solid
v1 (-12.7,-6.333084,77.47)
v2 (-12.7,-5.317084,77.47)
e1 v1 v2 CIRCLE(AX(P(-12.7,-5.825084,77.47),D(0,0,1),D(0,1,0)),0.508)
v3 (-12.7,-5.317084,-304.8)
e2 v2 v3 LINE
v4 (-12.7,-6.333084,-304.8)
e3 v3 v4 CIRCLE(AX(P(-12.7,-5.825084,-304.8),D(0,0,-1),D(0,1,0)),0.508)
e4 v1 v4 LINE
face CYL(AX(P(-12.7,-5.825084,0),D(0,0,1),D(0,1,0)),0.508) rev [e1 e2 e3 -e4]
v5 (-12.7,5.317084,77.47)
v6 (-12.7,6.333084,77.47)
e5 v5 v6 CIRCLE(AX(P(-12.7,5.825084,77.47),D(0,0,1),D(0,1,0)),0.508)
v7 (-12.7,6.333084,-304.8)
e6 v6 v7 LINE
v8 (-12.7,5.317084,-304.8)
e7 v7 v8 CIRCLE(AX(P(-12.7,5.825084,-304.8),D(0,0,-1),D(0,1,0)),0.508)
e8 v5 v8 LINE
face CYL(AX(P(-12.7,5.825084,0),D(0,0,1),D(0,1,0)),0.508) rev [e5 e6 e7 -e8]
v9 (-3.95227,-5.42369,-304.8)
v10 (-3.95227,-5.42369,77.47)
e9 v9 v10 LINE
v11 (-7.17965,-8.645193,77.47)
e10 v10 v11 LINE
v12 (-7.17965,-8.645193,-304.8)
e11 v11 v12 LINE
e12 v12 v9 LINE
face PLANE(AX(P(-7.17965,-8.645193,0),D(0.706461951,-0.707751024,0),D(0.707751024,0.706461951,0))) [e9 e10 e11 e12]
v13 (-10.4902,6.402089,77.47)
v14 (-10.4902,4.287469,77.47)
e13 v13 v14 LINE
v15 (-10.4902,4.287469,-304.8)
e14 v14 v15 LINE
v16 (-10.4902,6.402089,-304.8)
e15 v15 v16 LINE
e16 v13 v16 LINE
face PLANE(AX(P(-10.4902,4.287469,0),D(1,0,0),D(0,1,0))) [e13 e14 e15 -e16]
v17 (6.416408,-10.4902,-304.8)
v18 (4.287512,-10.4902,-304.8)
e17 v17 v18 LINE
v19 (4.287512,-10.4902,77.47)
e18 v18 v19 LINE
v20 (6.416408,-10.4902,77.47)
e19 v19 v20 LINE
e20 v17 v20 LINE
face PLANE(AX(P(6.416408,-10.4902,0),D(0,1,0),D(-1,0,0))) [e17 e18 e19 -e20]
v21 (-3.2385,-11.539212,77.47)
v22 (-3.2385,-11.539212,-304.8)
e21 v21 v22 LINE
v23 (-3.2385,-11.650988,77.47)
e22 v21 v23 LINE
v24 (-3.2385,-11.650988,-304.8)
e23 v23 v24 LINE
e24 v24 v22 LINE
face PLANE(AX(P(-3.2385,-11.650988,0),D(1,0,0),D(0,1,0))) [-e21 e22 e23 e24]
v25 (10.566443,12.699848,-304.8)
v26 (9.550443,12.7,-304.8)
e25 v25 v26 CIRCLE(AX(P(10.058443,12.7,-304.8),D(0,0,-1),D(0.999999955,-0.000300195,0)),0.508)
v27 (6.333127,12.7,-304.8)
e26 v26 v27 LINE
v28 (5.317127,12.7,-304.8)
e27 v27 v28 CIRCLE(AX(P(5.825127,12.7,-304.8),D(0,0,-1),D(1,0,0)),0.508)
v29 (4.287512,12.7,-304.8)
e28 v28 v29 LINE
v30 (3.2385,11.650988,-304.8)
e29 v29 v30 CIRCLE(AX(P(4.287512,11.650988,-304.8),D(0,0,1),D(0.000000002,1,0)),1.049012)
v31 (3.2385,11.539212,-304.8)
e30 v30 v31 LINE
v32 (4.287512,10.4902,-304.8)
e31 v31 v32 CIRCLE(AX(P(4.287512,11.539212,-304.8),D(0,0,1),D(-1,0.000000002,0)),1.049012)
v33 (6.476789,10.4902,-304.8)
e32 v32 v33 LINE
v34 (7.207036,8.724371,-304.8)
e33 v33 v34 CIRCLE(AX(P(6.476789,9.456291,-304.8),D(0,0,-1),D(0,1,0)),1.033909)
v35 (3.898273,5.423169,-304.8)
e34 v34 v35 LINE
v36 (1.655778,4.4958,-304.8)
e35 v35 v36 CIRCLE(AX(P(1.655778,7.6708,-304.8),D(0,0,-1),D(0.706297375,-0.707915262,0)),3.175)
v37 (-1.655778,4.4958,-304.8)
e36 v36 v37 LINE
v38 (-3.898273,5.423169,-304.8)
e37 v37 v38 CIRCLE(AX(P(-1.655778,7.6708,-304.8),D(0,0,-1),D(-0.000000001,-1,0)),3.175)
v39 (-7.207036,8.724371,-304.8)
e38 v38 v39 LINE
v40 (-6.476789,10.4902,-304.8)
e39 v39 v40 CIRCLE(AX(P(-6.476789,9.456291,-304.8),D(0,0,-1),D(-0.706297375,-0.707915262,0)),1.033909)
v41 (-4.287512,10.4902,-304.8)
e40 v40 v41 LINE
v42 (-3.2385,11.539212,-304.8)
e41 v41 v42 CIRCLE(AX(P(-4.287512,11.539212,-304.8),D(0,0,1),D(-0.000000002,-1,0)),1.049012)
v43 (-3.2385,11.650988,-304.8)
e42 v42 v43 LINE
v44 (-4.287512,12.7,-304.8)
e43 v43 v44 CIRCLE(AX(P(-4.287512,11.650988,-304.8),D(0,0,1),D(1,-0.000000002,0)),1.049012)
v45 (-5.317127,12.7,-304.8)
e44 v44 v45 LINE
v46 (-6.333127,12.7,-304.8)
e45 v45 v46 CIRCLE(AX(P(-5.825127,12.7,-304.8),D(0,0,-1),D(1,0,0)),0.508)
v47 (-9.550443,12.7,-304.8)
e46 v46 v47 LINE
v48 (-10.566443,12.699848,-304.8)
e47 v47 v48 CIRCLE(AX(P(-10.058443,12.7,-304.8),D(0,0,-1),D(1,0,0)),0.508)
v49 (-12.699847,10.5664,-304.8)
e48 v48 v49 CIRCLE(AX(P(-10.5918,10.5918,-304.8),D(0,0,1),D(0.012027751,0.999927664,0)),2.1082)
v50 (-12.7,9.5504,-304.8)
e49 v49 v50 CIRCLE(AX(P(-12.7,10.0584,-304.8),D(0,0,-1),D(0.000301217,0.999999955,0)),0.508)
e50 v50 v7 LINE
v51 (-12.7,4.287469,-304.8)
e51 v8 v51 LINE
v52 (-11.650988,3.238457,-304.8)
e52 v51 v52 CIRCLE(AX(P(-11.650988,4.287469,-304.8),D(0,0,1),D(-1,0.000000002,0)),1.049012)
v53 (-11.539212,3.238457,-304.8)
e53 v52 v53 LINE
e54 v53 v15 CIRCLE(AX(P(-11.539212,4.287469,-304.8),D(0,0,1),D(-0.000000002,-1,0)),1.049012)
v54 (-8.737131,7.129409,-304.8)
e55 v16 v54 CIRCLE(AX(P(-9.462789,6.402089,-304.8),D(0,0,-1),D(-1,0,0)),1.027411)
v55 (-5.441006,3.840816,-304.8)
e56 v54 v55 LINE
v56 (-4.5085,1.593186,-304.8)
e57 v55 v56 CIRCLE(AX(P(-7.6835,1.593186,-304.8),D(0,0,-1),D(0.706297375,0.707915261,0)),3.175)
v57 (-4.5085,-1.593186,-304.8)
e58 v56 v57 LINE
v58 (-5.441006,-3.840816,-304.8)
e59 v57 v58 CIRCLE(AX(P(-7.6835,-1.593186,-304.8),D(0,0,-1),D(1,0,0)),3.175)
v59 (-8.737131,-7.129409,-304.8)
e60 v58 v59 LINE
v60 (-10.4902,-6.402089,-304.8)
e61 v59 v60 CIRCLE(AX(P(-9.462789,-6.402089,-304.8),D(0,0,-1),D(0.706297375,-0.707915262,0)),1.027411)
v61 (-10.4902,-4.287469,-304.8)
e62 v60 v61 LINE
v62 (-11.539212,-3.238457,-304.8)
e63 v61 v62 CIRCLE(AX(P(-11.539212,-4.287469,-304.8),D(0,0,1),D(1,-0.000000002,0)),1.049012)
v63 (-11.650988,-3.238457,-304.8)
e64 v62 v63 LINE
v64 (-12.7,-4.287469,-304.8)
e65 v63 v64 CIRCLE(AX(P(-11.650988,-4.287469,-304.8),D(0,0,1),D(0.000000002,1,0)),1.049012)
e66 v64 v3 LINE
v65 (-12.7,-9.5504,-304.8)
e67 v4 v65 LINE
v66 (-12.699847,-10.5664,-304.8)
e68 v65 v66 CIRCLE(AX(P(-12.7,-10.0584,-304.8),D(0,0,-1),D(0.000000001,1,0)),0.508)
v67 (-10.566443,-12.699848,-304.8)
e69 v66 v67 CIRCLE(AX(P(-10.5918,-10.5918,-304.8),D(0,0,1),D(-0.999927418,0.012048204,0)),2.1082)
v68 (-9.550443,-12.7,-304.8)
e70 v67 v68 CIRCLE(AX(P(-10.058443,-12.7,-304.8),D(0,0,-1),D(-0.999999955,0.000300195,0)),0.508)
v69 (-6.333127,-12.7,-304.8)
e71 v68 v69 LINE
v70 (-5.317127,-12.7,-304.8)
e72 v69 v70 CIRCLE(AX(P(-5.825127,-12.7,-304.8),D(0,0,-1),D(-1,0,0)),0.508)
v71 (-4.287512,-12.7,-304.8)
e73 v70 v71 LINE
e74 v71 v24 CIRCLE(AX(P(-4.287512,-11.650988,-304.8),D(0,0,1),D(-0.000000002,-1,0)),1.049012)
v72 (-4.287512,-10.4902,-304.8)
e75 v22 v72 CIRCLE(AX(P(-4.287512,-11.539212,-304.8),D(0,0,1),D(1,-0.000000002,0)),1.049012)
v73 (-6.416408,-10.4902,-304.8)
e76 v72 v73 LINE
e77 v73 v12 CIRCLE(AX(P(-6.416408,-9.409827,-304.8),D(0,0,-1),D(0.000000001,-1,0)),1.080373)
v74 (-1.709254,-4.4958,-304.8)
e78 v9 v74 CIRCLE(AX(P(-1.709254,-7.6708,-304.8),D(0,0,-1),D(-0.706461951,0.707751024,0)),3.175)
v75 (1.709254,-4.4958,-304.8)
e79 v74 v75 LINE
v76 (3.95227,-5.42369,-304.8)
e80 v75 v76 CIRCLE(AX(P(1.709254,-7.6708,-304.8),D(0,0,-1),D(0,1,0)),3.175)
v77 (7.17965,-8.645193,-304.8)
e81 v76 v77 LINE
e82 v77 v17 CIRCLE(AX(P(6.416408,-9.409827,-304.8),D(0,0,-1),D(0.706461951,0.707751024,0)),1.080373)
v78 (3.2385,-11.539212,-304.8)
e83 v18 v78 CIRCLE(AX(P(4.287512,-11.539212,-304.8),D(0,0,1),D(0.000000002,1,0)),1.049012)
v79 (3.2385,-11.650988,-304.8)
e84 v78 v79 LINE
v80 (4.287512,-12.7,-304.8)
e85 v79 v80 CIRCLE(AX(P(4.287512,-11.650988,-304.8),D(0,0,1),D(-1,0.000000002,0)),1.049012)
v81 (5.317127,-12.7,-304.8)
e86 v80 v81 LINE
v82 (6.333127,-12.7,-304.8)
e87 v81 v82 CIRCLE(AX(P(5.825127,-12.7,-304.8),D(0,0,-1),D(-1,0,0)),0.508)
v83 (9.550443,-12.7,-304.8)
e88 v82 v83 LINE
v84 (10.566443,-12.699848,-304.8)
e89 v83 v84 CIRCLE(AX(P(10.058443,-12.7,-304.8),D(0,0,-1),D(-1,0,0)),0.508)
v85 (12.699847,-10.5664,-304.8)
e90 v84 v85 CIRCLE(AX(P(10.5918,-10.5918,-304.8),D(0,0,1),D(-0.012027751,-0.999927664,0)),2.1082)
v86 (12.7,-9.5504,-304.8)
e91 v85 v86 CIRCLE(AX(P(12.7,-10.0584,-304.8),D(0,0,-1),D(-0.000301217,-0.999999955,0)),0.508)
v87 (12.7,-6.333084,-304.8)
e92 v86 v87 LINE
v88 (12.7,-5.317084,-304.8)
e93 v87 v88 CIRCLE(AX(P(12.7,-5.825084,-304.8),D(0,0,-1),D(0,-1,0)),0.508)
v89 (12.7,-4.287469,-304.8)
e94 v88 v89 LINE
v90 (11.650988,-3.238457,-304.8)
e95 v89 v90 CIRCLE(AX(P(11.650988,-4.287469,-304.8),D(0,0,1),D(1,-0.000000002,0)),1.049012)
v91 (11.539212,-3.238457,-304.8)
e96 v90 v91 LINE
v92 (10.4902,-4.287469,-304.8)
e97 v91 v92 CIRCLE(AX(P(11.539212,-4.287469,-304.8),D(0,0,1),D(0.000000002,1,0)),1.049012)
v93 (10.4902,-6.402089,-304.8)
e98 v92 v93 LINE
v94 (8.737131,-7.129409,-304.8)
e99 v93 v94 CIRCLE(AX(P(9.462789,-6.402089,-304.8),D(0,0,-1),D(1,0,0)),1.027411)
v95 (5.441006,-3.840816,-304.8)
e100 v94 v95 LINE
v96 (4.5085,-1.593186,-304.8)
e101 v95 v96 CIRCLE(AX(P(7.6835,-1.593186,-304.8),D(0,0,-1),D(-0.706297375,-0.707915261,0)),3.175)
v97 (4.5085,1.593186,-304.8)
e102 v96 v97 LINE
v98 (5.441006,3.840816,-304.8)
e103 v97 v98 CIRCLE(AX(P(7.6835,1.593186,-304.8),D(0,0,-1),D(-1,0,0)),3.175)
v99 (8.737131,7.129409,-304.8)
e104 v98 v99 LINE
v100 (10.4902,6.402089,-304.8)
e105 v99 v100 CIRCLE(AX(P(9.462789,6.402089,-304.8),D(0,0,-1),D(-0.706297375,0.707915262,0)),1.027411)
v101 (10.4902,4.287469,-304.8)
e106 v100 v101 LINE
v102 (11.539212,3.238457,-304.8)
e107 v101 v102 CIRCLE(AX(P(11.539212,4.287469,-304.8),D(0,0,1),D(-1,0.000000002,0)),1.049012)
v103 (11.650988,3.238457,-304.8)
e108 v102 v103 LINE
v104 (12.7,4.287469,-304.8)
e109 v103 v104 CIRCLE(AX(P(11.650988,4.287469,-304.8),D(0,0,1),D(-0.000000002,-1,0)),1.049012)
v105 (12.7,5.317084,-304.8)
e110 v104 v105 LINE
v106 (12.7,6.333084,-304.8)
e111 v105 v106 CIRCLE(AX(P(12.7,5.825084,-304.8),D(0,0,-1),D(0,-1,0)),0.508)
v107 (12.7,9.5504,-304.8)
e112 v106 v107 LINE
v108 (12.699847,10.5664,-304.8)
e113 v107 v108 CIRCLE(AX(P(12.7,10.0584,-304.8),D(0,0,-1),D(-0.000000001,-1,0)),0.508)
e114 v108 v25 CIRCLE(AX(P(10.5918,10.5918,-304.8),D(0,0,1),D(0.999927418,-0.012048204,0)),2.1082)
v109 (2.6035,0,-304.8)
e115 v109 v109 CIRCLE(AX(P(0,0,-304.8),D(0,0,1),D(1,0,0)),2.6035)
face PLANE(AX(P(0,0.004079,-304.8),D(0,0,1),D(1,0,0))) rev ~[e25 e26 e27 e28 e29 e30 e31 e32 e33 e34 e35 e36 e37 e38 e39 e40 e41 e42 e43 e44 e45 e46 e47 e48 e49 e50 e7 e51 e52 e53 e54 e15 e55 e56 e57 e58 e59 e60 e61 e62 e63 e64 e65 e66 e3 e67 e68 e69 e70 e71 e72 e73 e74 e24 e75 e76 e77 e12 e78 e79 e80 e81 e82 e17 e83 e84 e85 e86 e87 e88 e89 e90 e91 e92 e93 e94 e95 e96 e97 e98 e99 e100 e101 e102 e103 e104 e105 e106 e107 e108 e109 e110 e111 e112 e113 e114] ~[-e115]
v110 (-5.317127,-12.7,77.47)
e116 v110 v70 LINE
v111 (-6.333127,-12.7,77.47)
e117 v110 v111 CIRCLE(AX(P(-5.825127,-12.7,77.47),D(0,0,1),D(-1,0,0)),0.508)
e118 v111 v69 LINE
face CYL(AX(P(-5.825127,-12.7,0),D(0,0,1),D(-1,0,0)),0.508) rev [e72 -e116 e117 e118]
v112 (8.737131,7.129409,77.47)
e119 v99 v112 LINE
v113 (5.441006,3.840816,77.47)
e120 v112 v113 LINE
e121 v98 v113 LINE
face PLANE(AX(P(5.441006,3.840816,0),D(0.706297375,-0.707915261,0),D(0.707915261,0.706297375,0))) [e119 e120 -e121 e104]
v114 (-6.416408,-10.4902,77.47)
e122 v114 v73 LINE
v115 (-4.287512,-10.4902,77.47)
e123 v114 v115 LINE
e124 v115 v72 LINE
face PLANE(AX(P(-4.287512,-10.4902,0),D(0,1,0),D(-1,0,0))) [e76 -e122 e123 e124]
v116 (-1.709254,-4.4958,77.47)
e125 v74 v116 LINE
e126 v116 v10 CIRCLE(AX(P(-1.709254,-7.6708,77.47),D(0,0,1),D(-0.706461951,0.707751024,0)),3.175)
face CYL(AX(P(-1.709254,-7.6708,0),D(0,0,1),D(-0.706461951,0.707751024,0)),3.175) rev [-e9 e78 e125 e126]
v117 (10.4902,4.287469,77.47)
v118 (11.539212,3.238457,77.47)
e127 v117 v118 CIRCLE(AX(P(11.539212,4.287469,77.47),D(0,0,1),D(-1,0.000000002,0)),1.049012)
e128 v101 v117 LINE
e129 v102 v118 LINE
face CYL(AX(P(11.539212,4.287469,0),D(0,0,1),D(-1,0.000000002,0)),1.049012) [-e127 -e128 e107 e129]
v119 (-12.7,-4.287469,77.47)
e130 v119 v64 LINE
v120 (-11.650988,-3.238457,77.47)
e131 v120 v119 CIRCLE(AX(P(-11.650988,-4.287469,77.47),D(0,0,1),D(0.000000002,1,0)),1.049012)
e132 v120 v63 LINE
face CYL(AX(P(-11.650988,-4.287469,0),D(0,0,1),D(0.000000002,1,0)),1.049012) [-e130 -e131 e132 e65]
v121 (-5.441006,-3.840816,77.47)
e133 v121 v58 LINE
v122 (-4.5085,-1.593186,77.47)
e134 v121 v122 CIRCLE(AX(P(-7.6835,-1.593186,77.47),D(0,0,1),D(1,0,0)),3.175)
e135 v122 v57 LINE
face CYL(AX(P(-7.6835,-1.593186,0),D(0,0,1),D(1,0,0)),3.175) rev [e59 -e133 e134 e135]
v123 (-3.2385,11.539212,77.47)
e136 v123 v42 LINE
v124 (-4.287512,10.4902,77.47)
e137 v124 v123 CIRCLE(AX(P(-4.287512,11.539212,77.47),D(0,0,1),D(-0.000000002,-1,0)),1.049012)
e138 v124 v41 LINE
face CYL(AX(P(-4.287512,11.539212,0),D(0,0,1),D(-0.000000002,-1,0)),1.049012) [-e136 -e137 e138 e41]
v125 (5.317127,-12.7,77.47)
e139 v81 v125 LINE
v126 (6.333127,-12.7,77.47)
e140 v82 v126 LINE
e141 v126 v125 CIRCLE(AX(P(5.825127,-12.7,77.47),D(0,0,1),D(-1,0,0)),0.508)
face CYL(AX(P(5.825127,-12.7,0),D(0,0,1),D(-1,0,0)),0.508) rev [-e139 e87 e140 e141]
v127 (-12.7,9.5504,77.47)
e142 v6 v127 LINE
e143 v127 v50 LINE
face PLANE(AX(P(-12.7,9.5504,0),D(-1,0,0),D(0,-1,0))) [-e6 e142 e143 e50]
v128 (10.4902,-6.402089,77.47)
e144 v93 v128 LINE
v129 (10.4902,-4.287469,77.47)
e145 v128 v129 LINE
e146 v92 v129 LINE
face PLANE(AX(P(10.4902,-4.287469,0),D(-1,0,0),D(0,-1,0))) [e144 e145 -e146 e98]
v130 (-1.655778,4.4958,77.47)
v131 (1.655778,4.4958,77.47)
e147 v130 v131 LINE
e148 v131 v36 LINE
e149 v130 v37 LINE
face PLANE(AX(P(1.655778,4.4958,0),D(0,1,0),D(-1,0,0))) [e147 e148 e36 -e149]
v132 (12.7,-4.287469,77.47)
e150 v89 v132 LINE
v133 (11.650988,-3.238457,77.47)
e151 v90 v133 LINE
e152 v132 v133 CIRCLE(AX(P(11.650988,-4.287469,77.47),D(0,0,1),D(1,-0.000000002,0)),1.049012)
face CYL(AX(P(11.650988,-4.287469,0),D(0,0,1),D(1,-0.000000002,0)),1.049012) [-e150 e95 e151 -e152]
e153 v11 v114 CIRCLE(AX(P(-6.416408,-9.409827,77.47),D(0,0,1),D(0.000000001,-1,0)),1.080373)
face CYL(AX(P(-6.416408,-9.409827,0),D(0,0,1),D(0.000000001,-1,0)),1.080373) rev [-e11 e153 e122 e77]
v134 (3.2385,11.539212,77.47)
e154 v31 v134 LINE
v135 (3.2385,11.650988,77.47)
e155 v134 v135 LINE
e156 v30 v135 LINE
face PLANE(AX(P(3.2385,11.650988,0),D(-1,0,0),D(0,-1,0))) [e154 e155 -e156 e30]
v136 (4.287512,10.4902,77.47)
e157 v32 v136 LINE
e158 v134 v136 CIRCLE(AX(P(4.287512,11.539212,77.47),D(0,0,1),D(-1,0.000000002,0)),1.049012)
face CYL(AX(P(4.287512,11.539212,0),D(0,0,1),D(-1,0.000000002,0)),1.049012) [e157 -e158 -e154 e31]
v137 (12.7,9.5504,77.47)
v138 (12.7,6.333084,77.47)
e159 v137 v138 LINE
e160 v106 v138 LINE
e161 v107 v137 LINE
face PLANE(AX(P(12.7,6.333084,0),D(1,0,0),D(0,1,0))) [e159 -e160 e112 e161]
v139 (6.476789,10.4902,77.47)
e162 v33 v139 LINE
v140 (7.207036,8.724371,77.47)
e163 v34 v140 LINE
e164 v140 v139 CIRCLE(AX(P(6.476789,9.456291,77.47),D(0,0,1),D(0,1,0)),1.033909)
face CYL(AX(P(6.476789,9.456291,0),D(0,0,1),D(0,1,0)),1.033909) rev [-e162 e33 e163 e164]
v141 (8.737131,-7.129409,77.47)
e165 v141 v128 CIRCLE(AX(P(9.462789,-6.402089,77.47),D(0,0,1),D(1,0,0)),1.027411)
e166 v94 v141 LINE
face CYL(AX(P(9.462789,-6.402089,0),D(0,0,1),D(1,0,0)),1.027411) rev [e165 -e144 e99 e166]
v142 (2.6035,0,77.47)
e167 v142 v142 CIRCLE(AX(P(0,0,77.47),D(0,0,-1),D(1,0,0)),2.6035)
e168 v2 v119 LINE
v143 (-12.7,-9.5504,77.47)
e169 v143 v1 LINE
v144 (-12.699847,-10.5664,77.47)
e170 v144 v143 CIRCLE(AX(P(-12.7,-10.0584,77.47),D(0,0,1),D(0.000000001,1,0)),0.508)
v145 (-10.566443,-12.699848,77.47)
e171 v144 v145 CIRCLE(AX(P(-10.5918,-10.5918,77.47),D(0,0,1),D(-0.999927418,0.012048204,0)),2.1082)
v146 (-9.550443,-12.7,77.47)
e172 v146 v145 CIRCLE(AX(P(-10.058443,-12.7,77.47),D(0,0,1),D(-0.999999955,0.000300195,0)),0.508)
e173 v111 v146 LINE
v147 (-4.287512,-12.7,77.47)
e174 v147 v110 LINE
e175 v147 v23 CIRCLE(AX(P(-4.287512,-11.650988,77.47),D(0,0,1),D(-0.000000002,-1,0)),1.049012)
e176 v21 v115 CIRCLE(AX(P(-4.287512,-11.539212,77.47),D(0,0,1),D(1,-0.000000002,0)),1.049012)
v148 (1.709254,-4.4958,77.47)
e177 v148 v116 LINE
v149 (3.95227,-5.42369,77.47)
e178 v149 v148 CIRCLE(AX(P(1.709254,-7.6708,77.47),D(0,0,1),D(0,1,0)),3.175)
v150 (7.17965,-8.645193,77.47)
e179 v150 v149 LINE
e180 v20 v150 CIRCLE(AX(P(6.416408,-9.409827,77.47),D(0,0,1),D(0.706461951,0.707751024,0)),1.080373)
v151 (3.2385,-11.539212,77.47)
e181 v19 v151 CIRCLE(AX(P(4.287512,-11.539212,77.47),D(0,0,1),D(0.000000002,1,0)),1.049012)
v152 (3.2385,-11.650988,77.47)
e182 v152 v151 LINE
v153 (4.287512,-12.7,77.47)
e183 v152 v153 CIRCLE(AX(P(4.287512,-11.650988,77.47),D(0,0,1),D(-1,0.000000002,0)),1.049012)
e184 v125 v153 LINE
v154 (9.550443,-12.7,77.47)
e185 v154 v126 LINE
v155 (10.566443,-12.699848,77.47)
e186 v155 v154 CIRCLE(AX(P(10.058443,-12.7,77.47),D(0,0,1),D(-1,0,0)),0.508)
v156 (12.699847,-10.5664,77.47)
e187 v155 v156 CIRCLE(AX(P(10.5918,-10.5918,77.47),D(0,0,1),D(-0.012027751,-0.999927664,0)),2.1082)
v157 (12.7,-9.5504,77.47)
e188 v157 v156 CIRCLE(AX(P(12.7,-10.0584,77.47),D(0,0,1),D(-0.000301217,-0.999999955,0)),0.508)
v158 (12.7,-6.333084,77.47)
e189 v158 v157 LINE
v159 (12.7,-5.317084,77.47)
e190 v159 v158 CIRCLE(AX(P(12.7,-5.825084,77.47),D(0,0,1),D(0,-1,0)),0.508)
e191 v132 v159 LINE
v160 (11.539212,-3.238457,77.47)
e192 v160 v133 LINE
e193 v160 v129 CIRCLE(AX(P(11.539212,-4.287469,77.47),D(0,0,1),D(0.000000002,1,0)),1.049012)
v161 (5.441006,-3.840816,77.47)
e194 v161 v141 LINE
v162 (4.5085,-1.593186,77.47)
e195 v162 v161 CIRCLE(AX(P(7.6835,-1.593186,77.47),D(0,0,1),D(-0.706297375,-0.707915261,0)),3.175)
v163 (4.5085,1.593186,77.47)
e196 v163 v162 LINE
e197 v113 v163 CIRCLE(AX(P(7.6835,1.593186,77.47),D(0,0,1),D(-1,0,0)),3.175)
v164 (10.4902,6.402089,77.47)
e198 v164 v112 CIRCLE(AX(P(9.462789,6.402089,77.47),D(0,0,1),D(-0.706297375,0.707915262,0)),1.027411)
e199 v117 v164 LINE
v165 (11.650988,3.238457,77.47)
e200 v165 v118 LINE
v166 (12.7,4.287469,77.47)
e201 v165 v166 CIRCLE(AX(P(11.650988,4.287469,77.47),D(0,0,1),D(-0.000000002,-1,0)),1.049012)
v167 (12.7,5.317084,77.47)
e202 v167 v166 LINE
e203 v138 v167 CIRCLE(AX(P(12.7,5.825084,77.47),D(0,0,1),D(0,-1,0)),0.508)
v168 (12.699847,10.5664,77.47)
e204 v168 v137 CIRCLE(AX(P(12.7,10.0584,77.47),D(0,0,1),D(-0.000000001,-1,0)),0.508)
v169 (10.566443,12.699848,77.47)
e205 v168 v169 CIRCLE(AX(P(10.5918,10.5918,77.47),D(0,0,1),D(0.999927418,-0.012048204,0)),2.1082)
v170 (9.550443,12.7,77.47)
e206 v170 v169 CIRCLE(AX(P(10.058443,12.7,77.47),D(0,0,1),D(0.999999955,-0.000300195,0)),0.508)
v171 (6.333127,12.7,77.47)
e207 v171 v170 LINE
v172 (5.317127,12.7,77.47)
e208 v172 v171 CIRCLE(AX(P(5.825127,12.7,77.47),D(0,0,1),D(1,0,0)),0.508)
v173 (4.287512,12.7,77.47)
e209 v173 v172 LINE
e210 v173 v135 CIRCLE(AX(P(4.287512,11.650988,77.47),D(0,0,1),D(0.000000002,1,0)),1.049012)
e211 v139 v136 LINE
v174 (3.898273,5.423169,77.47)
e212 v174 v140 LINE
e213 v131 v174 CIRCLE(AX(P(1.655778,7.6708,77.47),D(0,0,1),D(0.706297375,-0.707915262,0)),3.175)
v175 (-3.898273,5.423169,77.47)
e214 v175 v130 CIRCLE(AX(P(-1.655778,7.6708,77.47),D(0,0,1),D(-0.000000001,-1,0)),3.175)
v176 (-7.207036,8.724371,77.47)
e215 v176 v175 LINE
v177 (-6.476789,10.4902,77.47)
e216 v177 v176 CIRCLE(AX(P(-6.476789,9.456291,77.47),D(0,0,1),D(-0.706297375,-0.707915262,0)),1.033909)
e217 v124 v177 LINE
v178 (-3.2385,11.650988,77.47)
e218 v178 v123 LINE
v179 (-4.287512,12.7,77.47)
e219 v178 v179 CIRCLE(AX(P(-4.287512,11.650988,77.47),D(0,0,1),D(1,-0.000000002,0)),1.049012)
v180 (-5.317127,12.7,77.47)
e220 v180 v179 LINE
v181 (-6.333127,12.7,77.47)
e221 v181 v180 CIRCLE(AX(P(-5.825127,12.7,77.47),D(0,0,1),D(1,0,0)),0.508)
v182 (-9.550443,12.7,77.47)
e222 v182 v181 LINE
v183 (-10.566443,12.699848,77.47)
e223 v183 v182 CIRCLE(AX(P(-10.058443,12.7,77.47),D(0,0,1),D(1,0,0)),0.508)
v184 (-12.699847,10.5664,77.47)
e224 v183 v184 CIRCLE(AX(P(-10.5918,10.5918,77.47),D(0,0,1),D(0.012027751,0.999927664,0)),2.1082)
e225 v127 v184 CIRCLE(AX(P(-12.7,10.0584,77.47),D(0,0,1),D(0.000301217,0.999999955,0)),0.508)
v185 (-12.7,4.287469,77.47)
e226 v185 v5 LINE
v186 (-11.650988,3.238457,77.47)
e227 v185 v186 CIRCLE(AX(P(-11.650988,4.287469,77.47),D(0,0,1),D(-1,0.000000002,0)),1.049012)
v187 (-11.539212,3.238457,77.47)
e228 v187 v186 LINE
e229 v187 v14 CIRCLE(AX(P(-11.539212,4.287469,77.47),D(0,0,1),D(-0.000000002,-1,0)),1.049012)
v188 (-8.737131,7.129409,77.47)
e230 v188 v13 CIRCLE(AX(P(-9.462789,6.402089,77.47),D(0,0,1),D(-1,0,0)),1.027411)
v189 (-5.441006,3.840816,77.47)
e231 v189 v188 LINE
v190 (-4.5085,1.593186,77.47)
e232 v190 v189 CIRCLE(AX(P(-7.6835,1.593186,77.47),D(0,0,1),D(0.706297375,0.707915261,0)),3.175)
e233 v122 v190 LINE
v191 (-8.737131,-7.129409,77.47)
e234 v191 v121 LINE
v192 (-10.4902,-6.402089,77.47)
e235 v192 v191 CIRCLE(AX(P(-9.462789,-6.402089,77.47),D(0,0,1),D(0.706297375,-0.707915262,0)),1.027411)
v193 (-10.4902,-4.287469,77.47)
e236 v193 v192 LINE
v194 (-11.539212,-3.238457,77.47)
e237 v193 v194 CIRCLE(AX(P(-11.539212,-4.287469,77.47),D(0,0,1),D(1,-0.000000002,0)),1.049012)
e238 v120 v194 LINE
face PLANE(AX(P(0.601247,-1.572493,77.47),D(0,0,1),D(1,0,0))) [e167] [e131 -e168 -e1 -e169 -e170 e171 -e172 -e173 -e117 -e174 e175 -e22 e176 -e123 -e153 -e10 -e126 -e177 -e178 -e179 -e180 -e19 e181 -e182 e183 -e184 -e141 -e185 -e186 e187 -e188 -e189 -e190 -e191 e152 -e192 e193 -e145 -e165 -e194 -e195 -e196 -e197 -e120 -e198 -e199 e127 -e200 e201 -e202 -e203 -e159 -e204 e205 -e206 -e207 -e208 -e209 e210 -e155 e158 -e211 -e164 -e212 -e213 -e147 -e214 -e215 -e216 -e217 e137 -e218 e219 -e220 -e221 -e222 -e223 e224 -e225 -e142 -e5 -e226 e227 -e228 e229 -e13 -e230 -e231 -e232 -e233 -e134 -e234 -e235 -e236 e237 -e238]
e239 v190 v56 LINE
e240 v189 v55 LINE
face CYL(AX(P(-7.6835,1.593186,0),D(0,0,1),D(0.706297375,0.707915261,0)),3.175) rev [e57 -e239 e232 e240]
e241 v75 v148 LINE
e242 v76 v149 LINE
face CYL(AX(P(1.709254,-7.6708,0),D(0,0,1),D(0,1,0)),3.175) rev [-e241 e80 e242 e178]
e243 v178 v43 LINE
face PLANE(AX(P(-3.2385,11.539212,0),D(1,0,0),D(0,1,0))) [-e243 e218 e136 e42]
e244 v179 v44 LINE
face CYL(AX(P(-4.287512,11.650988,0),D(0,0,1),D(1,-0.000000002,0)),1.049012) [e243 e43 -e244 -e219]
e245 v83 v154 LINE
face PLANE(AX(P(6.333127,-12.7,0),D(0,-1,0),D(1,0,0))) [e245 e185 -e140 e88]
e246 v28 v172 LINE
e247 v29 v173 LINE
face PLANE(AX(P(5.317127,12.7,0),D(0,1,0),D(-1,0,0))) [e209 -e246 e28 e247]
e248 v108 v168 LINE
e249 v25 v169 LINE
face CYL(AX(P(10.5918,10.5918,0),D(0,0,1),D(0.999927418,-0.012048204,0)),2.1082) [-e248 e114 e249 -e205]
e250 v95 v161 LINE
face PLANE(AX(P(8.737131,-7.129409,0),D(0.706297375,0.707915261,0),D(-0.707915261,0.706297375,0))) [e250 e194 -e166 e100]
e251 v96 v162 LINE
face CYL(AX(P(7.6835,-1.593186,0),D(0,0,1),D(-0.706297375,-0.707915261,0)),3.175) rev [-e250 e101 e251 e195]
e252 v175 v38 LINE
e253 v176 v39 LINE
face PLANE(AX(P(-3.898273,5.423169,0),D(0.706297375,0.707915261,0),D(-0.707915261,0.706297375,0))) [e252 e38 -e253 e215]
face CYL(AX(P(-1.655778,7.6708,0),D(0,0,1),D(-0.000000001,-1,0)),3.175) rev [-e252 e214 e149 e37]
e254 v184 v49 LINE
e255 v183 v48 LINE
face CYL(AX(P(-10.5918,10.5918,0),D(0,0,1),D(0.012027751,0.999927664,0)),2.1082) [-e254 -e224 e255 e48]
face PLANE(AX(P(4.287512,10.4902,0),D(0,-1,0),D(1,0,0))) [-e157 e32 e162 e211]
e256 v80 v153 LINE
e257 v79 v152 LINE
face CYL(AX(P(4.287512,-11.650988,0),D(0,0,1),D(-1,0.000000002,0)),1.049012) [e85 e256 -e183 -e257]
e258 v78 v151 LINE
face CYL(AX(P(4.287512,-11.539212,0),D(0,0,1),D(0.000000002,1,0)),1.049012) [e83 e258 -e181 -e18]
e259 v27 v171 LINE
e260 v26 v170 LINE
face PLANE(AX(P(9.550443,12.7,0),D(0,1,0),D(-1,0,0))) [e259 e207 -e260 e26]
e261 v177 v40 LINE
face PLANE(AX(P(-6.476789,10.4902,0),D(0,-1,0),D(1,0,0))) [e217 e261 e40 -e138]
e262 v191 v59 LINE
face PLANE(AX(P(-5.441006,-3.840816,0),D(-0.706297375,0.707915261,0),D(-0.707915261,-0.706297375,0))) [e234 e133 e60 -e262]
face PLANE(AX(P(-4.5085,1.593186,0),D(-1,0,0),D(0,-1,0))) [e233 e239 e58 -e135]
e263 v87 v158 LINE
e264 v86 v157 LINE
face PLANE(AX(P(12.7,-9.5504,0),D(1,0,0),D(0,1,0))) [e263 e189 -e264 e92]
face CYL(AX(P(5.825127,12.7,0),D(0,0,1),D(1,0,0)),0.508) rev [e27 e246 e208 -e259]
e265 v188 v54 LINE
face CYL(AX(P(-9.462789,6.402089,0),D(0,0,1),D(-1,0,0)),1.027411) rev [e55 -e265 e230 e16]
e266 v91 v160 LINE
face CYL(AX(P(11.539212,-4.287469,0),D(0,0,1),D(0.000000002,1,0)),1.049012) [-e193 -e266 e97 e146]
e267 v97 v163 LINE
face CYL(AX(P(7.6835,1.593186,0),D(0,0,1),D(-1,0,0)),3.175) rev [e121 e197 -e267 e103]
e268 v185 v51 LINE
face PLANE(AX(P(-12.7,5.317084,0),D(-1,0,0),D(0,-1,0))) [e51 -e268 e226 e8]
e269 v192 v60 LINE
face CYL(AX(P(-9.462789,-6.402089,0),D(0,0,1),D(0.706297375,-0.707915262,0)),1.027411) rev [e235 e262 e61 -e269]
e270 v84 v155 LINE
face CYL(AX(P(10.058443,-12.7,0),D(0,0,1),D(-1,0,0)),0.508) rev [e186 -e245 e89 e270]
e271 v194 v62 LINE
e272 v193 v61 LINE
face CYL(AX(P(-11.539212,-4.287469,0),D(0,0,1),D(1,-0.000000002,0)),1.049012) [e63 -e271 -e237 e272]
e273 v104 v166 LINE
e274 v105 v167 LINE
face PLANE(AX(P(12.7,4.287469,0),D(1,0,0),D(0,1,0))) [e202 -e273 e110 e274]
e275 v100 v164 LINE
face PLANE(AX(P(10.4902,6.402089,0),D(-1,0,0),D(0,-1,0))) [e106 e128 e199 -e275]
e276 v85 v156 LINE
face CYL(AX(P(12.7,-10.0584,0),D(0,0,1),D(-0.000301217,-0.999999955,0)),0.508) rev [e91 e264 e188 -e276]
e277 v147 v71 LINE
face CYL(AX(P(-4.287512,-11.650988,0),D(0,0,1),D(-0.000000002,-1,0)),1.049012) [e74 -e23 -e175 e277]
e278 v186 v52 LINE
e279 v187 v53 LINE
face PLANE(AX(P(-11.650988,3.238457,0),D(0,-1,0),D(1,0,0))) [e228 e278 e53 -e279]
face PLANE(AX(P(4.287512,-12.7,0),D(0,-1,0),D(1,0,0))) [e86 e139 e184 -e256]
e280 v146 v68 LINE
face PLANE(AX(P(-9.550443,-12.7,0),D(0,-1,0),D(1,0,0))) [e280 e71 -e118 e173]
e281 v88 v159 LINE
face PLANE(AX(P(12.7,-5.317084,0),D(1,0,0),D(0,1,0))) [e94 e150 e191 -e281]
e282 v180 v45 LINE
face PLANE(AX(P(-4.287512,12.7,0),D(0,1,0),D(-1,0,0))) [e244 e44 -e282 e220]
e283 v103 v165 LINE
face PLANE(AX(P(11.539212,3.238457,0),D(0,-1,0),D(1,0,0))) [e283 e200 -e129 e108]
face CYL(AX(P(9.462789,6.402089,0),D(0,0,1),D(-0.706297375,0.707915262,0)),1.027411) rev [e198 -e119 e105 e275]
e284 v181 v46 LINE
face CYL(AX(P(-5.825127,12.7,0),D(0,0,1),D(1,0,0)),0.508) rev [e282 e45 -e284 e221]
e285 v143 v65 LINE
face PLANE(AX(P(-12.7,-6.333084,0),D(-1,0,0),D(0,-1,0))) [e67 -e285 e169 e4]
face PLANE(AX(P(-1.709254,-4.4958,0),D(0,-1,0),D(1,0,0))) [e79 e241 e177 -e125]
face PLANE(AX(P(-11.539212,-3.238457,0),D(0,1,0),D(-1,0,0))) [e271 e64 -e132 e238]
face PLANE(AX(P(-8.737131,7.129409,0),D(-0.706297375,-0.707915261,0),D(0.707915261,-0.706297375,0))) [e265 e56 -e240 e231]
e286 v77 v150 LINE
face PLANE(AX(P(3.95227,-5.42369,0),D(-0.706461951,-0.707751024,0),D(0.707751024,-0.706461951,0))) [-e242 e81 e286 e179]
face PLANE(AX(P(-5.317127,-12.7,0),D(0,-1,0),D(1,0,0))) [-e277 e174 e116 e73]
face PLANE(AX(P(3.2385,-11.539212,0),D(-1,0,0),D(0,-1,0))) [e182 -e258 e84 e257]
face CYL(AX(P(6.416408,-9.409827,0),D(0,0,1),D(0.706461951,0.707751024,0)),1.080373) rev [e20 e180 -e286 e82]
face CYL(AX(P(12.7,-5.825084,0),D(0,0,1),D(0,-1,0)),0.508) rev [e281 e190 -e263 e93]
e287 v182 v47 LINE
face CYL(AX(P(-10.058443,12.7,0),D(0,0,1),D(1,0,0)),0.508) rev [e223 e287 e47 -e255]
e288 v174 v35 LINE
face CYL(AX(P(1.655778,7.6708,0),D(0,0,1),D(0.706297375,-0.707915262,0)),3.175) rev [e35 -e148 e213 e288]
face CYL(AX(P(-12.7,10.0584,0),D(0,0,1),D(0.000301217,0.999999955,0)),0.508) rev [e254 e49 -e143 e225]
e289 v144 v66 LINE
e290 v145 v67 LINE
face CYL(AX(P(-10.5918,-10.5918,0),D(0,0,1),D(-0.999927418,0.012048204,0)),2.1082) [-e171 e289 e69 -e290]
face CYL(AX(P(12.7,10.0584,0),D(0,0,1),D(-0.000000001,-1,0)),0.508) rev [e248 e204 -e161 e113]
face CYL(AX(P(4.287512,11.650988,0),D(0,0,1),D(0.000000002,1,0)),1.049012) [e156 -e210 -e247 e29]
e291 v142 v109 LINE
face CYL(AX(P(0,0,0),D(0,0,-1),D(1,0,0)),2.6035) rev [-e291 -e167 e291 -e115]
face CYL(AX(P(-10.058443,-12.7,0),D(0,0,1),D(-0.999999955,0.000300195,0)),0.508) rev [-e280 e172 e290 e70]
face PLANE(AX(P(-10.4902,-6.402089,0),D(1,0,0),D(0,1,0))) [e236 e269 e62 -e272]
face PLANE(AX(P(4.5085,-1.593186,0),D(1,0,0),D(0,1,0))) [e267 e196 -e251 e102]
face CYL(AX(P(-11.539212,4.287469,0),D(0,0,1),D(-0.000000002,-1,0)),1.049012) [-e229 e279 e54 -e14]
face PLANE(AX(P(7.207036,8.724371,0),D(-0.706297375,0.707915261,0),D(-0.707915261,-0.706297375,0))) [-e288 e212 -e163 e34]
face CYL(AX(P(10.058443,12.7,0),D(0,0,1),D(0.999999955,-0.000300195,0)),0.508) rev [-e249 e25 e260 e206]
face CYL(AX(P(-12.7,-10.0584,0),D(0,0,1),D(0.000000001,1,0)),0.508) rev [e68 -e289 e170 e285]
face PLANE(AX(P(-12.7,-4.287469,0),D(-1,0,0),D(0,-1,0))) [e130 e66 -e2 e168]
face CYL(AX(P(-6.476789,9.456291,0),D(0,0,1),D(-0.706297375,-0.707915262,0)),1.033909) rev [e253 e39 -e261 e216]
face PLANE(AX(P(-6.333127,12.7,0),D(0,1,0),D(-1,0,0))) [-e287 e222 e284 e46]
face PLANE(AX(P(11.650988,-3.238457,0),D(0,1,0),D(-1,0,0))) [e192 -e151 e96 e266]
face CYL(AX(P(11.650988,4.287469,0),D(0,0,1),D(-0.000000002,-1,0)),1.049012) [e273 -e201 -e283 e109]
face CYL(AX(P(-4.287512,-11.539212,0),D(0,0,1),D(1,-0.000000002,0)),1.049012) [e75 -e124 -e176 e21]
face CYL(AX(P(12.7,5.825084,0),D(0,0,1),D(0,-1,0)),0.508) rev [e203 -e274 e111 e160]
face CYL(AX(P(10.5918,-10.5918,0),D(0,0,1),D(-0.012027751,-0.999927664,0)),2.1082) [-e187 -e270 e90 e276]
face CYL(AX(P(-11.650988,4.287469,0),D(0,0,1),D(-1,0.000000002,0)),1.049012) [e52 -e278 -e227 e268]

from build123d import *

# Parameters (mm, degrees)
SKETCH1_R           = 2.6035
BOSS_EXTRUDE1_DEPTH = 304.8
SKETCH2_W           = 33.577347781
SKETCH2_H           = 32.744851555
CUT_EXTRUDE1_DEPTH  = 227.33


with BuildPart() as part:
    # Sketch1 → Boss-Extrude1 (new body, symmetric)
    with BuildSketch(Plane.XY):
        with BuildLine():
            Line((-7.179650497, -8.645192506), (-3.952270251, -5.423690499))
            ThreePointArc((-3.952270251, -5.423690499), (-2.922936451, -4.736929036), (-1.709253557, -4.4958))
            Line((-1.709253557, -4.4958), (1.709253557, -4.4958))
            ThreePointArc((1.709253557, -4.4958), (2.922936451, -4.736929036), (3.952270251, -5.423690499))
            Line((3.952270251, -5.423690499), (7.179650497, -8.645192506))
            ThreePointArc((7.179650497, -8.645192506), (7.41473083, -9.822813117), (6.416408329, -10.4902))
            Line((6.416408329, -10.4902), (4.287512407, -10.4902))
            ThreePointArc((4.287512407, -10.4902), (3.54574862, -10.79744862), (3.2385, -11.539212407))
            Line((3.2385, -11.539212407), (3.2385, -11.650987593))
            ThreePointArc((3.2385, -11.650987593), (3.54574862, -12.39275138), (4.287512407, -12.7))
            Line((4.287512407, -12.7), (5.317126718, -12.7))
            ThreePointArc((5.317126718, -12.7), (5.825126718, -12.192), (6.333126718, -12.7))
            Line((6.333126718, -12.7), (9.550443118, -12.7))
            ThreePointArc((9.550443118, -12.7), (10.058366869, -12.192000006), (10.566443095, -12.699847501))
            ThreePointArc((10.566443095, -12.699847501), (12.082537762, -12.08250727), (12.699846982, -10.566399977))
            ThreePointArc((12.699846982, -10.566399977), (12.192000006, -10.058323491), (12.7, -9.5504))
            Line((12.7, -9.5504), (12.7, -6.3330836))
            ThreePointArc((12.7, -6.3330836), (12.192, -5.8250836), (12.7, -5.3170836))
            Line((12.7, -5.3170836), (12.7, -4.287469289))
            ThreePointArc((12.7, -4.287469289), (12.39275138, -3.545705502), (11.650987593, -3.238456882))
            Line((11.650987593, -3.238456882), (11.539212407, -3.238456882))
            ThreePointArc((11.539212407, -3.238456882), (10.79744862, -3.545705502), (10.4902, -4.287469289))
            Line((10.4902, -4.287469289), (10.4902, -6.402089023))
            ThreePointArc((10.4902, -6.402089023), (9.856505071, -7.351067942), (8.737131347, -7.129408934))
            Line((8.737131347, -7.129408934), (5.441005833, -3.840816462))
            ThreePointArc((5.441005833, -3.840816462), (4.750877967, -2.809883091), (4.5085, -1.593185507))
            Line((4.5085, -1.593185507), (4.5085, 1.593185507))
            ThreePointArc((4.5085, 1.593185507), (4.750877967, 2.809883091), (5.441005833, 3.840816462))
            Line((5.441005833, 3.840816462), (8.737131347, 7.129408934))
            ThreePointArc((8.737131347, 7.129408934), (9.856505071, 7.351067942), (10.4902, 6.402089023))
            Line((10.4902, 6.402089023), (10.4902, 4.287469289))
            ThreePointArc((10.4902, 4.287469289), (10.79744862, 3.545705502), (11.539212407, 3.238456882))
            Line((11.539212407, 3.238456882), (11.650987593, 3.238456882))
            ThreePointArc((11.650987593, 3.238456882), (12.39275138, 3.545705502), (12.7, 4.287469289))
            Line((12.7, 4.287469289), (12.7, 5.3170836))
            ThreePointArc((12.7, 5.3170836), (12.192, 5.8250836), (12.7, 6.3330836))
            Line((12.7, 6.3330836), (12.7, 9.5504))
            ThreePointArc((12.7, 9.5504), (12.192000006, 10.058323491), (12.699846982, 10.566399977))
            ThreePointArc((12.699846982, 10.566399977), (12.082537762, 12.08250727), (10.566443095, 12.699847501))
            ThreePointArc((10.566443095, 12.699847501), (10.058366869, 12.192000006), (9.550443118, 12.7))
            Line((9.550443118, 12.7), (6.333126718, 12.7))
            ThreePointArc((6.333126718, 12.7), (5.825126718, 12.192), (5.317126718, 12.7))
            Line((5.317126718, 12.7), (4.287512407, 12.7))
            ThreePointArc((4.287512407, 12.7), (3.54574862, 12.39275138), (3.2385, 11.650987593))
            Line((3.2385, 11.650987593), (3.2385, 11.539212407))
            ThreePointArc((3.2385, 11.539212407), (3.54574862, 10.79744862), (4.287512407, 10.4902))
            Line((4.287512407, 10.4902), (6.476788598, 10.4902))
            ThreePointArc((6.476788598, 10.4902), (7.432222385, 9.85140422), (7.207036008, 8.724370562))
            Line((7.207036008, 8.724370562), (3.898272566, 5.423169045))
            ThreePointArc((3.898272566, 5.423169045), (2.869120213, 4.736787962), (1.655778399, 4.4958))
            Line((1.655778399, 4.4958), (-1.655778399, 4.4958))
            ThreePointArc((-1.655778399, 4.4958), (-2.869120213, 4.736787962), (-3.898272566, 5.423169045))
            Line((-3.898272566, 5.423169045), (-7.207036008, 8.724370562))
            ThreePointArc((-7.207036008, 8.724370562), (-7.432222385, 9.85140422), (-6.476788598, 10.4902))
            Line((-6.476788598, 10.4902), (-4.287512407, 10.4902))
            ThreePointArc((-4.287512407, 10.4902), (-3.54574862, 10.79744862), (-3.2385, 11.539212407))
            Line((-3.2385, 11.539212407), (-3.2385, 11.650987593))
            ThreePointArc((-3.2385, 11.650987593), (-3.54574862, 12.39275138), (-4.287512407, 12.7))
            Line((-4.287512407, 12.7), (-5.317126718, 12.7))
            ThreePointArc((-5.317126718, 12.7), (-5.825126718, 12.192), (-6.333126718, 12.7))
            Line((-6.333126718, 12.7), (-9.550443118, 12.7))
            ThreePointArc((-9.550443118, 12.7), (-10.058366869, 12.192000006), (-10.566443095, 12.699847501))
            ThreePointArc((-10.566443095, 12.699847501), (-12.082537762, 12.08250727), (-12.699846982, 10.566399977))
            ThreePointArc((-12.699846982, 10.566399977), (-12.192000006, 10.058323491), (-12.7, 9.5504))
            Line((-12.7, 9.5504), (-12.7, 6.3330836))
            ThreePointArc((-12.7, 6.3330836), (-12.192, 5.8250836), (-12.7, 5.3170836))
            Line((-12.7, 5.3170836), (-12.7, 4.287469289))
            ThreePointArc((-12.7, 4.287469289), (-12.39275138, 3.545705502), (-11.650987593, 3.238456882))
            Line((-11.650987593, 3.238456882), (-11.539212407, 3.238456882))
            ThreePointArc((-11.539212407, 3.238456882), (-10.79744862, 3.545705502), (-10.4902, 4.287469289))
            Line((-10.4902, 4.287469289), (-10.4902, 6.402089023))
            ThreePointArc((-10.4902, 6.402089023), (-9.856505071, 7.351067942), (-8.737131347, 7.129408934))
            Line((-8.737131347, 7.129408934), (-5.441005833, 3.840816462))
            ThreePointArc((-5.441005833, 3.840816462), (-4.750877967, 2.809883091), (-4.5085, 1.593185507))
            Line((-4.5085, 1.593185507), (-4.5085, -1.593185507))
            ThreePointArc((-4.5085, -1.593185507), (-4.750877967, -2.809883091), (-5.441005833, -3.840816462))
            Line((-5.441005833, -3.840816462), (-8.737131347, -7.129408934))
            ThreePointArc((-8.737131347, -7.129408934), (-9.856505071, -7.351067942), (-10.4902, -6.402089023))
            Line((-10.4902, -6.402089023), (-10.4902, -4.287469289))
            ThreePointArc((-10.4902, -4.287469289), (-10.79744862, -3.545705502), (-11.539212407, -3.238456882))
            Line((-11.539212407, -3.238456882), (-11.650987593, -3.238456882))
            ThreePointArc((-11.650987593, -3.238456882), (-12.39275138, -3.545705502), (-12.7, -4.287469289))
            Line((-12.7, -4.287469289), (-12.7, -5.3170836))
            ThreePointArc((-12.7, -5.3170836), (-12.192, -5.8250836), (-12.7, -6.3330836))
            Line((-12.7, -6.3330836), (-12.7, -9.5504))
            ThreePointArc((-12.7, -9.5504), (-12.192000006, -10.058323491), (-12.699846982, -10.566399977))
            ThreePointArc((-12.699846982, -10.566399977), (-12.082537762, -12.08250727), (-10.566443095, -12.699847501))
            ThreePointArc((-10.566443095, -12.699847501), (-10.058366869, -12.192000006), (-9.550443118, -12.7))
            Line((-9.550443118, -12.7), (-6.333126718, -12.7))
            ThreePointArc((-6.333126718, -12.7), (-5.825126718, -12.192), (-5.317126718, -12.7))
            Line((-5.317126718, -12.7), (-4.287512407, -12.7))
            ThreePointArc((-4.287512407, -12.7), (-3.54574862, -12.39275138), (-3.2385, -11.650987593))
            Line((-3.2385, -11.650987593), (-3.2385, -11.539212407))
            ThreePointArc((-3.2385, -11.539212407), (-3.54574862, -10.79744862), (-4.287512407, -10.4902))
            Line((-4.287512407, -10.4902), (-6.416408329, -10.4902))
            ThreePointArc((-6.416408329, -10.4902), (-7.41473083, -9.822813117), (-7.179650497, -8.645192506))
        make_face()
        Circle(SKETCH1_R, mode=Mode.SUBTRACT)
    extrude(amount=BOSS_EXTRUDE1_DEPTH, both=True)

    # Sketch2 → Cut-Extrude1 (cut)
    with BuildSketch(Plane.XY.offset(304.8)):
        with Locations((0.601247275, -1.572492872)):
            Rectangle(SKETCH2_W, SKETCH2_H)
    extrude(amount=-CUT_EXTRUDE1_DEPTH, mode=Mode.SUBTRACT)


solid = part.part
